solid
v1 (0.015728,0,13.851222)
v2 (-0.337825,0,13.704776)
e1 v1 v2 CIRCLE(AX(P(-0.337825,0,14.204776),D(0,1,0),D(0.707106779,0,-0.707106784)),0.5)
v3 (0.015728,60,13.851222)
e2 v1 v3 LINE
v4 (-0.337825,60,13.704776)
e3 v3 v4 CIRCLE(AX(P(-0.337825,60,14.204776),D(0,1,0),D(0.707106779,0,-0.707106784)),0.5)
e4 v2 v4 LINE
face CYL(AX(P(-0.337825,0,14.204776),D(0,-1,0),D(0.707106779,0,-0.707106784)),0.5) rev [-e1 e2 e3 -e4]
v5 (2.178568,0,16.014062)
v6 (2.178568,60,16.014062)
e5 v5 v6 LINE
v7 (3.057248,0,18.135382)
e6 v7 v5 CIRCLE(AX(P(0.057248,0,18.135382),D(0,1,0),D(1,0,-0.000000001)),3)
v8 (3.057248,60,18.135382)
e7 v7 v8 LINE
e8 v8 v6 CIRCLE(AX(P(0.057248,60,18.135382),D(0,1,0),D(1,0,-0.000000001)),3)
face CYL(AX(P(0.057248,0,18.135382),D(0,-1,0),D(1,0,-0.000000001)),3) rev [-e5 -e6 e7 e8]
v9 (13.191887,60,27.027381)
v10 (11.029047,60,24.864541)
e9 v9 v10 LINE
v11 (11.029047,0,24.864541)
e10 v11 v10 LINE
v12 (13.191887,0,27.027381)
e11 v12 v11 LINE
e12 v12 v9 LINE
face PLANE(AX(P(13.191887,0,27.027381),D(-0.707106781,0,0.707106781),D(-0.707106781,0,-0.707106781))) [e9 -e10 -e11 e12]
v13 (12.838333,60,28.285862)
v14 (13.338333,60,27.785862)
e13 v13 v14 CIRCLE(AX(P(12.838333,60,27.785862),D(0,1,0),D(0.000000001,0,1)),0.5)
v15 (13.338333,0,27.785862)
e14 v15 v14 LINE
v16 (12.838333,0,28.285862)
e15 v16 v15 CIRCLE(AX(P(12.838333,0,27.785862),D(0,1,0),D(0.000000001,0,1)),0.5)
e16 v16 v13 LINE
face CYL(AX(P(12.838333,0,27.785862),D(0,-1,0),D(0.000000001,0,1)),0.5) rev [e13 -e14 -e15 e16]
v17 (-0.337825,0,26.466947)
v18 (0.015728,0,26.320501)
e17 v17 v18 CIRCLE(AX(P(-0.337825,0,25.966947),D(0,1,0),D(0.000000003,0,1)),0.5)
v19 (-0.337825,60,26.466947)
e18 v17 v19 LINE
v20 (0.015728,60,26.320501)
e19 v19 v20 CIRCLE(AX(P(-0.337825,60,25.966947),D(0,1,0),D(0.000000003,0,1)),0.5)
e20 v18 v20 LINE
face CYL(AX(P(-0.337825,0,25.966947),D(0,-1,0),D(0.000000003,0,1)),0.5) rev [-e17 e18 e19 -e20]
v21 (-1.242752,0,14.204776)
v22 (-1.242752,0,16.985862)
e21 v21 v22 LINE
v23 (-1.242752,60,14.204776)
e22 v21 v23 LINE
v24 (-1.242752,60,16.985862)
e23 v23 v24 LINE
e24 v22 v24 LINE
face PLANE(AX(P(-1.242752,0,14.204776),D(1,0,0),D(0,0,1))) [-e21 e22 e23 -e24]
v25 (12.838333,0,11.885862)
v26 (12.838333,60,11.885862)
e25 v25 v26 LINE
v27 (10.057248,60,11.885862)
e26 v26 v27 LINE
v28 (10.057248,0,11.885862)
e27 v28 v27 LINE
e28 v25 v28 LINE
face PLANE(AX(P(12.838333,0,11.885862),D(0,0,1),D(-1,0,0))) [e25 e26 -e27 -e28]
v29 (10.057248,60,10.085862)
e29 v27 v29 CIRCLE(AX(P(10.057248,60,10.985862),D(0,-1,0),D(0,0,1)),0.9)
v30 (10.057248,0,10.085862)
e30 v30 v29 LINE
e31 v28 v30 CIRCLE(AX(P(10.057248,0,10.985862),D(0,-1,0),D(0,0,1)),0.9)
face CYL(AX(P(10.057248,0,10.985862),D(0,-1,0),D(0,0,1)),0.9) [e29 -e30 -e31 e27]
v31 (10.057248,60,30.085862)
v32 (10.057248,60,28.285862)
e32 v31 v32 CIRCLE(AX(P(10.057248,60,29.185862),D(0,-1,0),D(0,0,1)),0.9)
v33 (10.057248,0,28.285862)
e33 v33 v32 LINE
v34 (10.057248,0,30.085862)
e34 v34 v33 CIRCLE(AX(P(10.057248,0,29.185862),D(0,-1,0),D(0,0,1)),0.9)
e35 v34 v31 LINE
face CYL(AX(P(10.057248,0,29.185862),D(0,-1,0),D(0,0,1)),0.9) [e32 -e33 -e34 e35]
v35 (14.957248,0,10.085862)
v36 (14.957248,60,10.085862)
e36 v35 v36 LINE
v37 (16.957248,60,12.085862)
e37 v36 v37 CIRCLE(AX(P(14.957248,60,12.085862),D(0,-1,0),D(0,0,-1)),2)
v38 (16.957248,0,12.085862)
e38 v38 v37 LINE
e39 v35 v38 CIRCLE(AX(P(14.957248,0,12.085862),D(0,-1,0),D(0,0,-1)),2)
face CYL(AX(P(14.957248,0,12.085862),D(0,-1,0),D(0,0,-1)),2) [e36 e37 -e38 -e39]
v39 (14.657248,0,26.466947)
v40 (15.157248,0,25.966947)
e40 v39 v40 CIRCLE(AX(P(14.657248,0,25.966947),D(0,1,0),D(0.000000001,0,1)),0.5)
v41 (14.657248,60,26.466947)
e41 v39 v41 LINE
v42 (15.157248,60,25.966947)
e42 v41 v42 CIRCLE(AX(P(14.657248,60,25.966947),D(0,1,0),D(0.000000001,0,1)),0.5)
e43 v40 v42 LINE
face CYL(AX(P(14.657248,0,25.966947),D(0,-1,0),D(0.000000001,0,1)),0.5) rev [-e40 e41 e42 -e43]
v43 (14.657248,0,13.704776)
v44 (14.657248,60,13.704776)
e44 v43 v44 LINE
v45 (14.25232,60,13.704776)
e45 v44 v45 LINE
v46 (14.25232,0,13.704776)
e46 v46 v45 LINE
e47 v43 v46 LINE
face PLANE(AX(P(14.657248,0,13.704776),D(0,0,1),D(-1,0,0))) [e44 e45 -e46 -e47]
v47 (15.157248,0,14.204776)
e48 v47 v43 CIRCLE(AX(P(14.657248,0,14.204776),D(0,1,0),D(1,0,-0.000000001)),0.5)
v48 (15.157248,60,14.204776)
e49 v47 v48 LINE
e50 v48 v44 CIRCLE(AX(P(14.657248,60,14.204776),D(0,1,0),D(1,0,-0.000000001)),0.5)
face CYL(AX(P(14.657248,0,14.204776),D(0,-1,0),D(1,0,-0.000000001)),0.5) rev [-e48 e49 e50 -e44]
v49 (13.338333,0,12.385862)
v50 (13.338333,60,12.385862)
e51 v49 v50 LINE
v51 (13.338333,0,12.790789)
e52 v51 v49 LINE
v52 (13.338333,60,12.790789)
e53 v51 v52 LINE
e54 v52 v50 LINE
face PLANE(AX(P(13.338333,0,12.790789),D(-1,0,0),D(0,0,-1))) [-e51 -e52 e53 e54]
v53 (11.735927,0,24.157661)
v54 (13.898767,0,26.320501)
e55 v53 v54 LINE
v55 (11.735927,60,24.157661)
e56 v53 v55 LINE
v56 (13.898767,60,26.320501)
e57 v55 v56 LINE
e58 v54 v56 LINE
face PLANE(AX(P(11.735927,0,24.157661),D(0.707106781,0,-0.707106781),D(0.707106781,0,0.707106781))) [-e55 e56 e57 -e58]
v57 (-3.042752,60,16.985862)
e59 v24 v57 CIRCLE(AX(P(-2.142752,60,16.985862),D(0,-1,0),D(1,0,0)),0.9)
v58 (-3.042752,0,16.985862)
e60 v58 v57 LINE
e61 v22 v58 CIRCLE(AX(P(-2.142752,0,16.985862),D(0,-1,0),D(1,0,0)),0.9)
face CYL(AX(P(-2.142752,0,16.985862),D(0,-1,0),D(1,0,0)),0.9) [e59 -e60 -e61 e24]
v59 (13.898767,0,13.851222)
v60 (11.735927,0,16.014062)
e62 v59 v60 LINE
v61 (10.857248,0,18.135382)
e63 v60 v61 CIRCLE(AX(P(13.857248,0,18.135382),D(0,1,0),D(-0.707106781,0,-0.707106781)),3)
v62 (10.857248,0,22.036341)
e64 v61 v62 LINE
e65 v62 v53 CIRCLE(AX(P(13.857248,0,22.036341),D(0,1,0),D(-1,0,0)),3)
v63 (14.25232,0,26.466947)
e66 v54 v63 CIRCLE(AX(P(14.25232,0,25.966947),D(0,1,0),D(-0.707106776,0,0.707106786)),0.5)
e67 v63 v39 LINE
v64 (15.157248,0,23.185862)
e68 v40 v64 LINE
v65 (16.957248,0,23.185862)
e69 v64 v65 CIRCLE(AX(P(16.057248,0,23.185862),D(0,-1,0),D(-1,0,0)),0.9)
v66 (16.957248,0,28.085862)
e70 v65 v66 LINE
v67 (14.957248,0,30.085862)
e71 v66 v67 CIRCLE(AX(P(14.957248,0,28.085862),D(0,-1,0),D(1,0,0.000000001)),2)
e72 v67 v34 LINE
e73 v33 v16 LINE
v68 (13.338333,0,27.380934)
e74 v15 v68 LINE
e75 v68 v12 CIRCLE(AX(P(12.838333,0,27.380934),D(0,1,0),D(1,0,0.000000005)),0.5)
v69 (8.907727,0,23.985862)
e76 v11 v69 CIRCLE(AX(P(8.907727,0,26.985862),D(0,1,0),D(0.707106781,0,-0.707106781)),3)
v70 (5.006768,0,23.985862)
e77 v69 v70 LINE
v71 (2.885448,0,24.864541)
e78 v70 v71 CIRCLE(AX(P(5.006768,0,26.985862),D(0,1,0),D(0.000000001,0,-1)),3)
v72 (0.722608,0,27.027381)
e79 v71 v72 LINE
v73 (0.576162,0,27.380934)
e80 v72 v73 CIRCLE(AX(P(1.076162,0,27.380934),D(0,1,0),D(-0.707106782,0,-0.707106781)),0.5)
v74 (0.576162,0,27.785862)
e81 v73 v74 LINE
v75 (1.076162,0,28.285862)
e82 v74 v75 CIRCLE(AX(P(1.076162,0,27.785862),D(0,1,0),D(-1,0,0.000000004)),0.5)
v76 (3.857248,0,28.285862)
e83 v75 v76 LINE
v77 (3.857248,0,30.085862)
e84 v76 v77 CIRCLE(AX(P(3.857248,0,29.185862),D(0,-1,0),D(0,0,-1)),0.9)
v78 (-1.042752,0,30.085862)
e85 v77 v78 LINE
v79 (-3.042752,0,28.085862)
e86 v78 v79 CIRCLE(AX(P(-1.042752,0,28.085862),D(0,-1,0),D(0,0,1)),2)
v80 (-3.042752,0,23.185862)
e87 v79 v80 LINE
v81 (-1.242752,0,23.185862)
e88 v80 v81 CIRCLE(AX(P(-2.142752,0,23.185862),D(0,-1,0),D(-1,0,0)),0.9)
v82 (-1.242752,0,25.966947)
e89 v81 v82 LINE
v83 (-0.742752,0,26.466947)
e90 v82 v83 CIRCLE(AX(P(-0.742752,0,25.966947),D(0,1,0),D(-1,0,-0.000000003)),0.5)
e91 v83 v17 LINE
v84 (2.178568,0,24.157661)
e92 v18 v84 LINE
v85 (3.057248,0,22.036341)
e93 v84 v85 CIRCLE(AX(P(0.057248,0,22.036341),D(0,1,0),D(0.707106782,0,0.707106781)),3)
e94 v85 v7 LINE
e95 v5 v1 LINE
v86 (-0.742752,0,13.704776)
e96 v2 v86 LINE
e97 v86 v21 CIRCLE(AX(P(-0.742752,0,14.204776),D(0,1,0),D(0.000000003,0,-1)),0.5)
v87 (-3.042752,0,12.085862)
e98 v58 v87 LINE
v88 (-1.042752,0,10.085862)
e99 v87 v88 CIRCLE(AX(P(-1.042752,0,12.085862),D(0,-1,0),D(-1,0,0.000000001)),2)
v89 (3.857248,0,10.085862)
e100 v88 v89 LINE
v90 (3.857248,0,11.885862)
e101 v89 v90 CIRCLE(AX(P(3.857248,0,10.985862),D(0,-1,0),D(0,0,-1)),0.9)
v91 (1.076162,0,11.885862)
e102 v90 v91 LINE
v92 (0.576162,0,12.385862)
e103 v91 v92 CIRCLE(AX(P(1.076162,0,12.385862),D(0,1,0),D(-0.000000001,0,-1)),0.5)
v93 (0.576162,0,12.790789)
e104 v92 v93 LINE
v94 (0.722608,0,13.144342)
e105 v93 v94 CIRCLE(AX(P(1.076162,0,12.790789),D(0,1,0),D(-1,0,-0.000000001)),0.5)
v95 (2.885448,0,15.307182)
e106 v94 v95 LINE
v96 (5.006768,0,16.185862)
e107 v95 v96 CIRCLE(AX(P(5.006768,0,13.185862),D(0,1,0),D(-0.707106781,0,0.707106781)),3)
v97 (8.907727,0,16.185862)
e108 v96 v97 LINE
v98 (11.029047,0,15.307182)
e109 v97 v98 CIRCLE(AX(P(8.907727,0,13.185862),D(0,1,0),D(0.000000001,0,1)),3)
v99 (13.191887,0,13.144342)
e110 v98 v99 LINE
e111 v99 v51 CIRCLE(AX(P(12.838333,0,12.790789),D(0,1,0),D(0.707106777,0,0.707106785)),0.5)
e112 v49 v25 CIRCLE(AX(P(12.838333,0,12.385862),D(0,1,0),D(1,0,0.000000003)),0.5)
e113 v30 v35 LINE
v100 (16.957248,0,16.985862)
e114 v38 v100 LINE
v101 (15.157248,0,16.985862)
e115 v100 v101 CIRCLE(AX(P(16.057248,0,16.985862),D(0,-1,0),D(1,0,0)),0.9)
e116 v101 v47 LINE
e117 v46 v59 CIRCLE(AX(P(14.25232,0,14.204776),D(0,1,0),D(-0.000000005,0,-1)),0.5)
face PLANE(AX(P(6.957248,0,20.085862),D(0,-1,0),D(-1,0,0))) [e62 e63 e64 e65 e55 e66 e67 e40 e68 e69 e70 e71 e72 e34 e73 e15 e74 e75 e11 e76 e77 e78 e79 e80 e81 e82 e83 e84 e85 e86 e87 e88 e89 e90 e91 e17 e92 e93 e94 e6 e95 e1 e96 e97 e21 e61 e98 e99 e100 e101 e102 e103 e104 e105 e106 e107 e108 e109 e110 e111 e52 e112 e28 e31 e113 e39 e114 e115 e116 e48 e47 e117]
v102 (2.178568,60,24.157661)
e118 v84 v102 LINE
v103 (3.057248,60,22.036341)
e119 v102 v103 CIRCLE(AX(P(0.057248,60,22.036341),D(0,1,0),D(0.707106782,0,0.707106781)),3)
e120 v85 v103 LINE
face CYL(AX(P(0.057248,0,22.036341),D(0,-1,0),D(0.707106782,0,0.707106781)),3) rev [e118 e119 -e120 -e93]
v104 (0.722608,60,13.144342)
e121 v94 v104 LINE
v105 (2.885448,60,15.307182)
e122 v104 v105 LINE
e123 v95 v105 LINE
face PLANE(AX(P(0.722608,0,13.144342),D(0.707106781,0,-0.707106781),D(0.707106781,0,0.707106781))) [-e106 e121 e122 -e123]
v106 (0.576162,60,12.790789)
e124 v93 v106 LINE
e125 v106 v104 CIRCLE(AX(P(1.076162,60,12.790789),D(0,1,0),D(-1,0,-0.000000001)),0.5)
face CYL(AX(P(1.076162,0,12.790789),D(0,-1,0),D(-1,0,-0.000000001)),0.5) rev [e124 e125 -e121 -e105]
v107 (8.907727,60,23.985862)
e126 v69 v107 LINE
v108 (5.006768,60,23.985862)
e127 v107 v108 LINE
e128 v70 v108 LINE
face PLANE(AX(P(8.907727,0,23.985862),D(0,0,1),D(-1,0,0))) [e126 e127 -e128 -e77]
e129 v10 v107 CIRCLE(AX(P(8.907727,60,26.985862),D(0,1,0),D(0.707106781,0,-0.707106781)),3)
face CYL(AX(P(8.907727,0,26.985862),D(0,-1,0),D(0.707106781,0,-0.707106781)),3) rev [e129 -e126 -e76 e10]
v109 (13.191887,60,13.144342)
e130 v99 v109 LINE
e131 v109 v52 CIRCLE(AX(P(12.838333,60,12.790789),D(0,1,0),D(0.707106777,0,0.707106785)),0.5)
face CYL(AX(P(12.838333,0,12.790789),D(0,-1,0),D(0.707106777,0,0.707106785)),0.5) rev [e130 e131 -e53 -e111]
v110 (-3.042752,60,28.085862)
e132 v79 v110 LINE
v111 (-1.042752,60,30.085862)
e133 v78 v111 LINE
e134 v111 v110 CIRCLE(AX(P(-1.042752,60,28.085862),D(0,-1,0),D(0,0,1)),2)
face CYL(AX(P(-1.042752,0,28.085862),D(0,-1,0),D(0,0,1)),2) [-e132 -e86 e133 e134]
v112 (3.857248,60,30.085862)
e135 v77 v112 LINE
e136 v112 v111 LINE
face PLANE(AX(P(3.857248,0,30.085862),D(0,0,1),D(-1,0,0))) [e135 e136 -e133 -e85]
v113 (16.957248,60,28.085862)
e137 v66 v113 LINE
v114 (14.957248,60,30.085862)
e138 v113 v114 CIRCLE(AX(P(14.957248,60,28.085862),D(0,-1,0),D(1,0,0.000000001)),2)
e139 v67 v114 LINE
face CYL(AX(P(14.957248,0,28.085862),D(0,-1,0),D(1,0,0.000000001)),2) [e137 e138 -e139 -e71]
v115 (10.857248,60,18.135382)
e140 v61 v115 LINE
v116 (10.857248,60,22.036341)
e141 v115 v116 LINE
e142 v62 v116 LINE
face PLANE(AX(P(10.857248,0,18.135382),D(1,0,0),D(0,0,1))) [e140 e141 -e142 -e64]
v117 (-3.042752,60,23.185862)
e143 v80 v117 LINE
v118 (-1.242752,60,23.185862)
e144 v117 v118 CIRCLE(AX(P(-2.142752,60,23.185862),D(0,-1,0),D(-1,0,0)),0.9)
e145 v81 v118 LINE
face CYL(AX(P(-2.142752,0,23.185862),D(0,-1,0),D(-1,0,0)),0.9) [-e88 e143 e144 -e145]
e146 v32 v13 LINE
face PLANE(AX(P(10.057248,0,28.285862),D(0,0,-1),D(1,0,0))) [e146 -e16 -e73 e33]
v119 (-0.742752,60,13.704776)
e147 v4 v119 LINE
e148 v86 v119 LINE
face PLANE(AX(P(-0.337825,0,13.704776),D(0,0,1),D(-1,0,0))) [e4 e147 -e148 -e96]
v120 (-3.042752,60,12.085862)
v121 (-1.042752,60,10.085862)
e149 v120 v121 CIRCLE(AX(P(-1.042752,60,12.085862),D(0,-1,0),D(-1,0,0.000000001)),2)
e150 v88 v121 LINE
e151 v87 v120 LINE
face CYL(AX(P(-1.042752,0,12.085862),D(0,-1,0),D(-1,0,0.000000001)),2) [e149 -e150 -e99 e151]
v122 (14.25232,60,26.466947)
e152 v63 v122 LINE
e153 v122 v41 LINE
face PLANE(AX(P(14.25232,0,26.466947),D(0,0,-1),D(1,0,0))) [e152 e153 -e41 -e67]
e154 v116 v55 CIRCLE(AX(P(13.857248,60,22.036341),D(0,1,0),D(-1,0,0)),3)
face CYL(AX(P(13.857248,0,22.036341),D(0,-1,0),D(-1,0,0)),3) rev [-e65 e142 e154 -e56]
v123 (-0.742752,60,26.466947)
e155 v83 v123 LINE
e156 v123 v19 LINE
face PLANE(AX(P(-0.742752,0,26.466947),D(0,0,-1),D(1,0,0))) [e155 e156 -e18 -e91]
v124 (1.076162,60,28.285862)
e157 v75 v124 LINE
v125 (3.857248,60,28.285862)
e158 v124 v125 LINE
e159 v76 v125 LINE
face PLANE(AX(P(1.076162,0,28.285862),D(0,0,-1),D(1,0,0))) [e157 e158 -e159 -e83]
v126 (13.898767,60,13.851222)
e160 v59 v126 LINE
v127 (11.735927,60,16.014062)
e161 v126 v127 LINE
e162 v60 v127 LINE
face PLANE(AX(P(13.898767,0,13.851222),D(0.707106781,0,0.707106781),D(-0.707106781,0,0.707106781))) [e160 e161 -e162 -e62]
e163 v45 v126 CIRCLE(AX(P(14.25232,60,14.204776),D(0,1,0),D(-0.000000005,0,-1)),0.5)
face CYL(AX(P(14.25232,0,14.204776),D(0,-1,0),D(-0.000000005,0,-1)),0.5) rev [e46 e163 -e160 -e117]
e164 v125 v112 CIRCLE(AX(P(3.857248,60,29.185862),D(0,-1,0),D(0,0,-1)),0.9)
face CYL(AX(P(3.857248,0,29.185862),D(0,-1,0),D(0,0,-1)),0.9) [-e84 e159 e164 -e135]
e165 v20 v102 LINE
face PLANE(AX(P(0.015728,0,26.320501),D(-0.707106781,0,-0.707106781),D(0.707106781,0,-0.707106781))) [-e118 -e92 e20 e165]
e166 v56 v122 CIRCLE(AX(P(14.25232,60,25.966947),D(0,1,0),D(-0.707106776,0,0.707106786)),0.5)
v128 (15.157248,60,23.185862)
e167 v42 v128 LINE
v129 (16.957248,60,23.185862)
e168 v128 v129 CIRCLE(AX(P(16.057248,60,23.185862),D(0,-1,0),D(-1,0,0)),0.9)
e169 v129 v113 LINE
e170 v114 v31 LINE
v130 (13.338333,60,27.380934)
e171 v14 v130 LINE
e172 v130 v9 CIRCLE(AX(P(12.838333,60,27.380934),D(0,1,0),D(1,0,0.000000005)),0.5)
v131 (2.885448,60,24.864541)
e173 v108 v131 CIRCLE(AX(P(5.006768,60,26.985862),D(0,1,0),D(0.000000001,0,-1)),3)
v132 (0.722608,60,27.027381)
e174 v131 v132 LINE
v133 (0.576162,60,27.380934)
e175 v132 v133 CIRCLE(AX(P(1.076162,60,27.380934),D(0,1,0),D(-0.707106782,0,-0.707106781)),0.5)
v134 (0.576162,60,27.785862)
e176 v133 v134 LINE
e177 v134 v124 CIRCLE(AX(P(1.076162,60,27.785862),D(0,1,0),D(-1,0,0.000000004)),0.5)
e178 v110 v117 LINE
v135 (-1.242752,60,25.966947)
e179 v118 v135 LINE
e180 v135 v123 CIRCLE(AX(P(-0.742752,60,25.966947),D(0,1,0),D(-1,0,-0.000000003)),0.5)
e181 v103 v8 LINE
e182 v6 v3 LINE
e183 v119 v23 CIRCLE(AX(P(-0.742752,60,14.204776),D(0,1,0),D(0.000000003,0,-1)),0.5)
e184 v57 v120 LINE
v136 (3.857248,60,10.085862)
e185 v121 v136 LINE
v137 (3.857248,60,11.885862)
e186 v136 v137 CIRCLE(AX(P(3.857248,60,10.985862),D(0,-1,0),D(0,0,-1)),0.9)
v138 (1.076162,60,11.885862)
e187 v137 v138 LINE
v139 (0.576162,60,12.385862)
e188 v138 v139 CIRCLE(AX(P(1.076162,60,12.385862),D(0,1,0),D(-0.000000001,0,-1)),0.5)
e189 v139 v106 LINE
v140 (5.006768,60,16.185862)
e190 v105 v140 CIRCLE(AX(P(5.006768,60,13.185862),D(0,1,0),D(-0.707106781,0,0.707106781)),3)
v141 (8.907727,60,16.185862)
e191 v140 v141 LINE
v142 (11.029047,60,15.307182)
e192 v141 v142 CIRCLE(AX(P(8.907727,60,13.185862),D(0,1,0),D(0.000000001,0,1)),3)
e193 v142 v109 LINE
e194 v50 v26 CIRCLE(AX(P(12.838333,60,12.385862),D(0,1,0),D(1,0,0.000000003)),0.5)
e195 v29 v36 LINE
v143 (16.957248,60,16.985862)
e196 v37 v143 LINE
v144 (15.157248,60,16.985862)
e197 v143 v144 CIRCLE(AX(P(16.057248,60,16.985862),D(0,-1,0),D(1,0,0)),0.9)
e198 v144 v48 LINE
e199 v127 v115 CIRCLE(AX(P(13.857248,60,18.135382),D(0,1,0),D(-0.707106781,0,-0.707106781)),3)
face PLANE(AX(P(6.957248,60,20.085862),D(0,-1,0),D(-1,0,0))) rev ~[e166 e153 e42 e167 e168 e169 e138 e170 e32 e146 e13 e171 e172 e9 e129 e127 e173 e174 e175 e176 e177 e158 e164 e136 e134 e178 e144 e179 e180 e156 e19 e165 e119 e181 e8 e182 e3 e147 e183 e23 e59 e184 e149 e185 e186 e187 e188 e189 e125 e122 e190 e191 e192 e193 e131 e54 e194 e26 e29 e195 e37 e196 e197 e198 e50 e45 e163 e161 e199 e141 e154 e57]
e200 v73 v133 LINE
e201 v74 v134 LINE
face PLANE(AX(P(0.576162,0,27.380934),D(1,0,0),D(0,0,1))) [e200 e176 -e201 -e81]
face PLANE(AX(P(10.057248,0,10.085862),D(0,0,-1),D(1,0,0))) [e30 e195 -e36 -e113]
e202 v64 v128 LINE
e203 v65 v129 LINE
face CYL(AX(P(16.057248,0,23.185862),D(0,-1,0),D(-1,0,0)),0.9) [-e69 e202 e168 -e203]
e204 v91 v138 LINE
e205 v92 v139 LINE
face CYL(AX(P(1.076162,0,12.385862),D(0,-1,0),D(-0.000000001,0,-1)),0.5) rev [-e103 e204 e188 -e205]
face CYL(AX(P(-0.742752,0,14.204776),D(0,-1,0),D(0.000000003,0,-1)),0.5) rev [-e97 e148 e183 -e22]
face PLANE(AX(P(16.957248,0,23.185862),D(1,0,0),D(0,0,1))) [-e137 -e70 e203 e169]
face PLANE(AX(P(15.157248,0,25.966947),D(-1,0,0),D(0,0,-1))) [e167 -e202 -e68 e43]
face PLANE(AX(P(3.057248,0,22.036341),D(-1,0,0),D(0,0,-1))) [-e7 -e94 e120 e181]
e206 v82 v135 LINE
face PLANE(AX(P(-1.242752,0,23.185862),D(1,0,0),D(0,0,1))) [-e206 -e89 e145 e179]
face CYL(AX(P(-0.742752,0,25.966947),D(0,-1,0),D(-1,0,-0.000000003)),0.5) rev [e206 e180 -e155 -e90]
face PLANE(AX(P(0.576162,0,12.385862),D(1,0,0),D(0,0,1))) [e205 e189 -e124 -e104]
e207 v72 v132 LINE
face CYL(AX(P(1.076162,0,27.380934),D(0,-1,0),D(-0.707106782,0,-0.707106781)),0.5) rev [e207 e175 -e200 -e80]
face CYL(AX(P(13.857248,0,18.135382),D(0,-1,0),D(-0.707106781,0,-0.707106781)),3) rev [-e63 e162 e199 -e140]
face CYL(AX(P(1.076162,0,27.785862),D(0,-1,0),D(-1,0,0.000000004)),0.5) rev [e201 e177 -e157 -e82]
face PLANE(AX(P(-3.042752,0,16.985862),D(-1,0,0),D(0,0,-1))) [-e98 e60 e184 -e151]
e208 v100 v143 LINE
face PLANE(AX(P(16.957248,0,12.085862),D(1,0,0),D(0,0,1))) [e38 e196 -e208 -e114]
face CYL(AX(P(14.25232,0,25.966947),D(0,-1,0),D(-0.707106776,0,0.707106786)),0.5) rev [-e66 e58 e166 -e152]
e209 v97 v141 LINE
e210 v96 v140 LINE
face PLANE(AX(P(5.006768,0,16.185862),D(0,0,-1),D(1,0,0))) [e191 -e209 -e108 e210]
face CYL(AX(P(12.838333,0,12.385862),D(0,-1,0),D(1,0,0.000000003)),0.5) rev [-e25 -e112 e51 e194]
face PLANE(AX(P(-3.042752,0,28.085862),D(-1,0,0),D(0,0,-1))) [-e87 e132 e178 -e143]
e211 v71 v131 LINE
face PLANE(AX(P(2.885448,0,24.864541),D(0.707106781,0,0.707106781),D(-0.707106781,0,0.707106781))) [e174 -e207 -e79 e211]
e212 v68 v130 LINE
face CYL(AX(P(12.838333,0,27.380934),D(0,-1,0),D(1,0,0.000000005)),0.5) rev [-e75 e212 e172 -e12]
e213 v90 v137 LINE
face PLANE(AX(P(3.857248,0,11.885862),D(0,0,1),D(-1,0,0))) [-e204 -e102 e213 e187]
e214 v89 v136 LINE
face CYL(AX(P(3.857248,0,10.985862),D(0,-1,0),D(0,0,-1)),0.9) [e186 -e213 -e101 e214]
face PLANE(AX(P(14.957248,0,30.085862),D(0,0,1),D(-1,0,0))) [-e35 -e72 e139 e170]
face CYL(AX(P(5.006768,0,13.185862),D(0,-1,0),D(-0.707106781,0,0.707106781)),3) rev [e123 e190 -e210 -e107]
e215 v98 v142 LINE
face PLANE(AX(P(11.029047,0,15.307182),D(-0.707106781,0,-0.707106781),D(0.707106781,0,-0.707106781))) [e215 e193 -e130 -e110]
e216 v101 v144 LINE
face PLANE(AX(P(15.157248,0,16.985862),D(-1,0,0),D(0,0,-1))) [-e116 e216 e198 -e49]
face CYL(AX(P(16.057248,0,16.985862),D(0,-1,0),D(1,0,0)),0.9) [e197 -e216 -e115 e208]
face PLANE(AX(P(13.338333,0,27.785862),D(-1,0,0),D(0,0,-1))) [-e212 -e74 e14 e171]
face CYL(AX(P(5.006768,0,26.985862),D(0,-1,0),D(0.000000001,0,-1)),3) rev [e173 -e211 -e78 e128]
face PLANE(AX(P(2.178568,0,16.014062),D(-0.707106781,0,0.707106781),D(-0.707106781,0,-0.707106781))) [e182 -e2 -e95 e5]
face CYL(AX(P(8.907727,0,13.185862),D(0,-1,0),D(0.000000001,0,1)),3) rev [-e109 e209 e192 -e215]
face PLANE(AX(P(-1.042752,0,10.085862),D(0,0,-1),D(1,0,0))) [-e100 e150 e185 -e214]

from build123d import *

# Parameters (mm, degrees)
EXTRUDE_1_DEPTH = 60


with BuildPart() as part:
    # 草图1 → 凸台-拉伸1 (new body)
    with BuildSketch(Plane(origin=(0, 0, 0), x_dir=(1, 0, 0), z_dir=(0, 1, 0))):
        with BuildLine():
            Line((-1.042752475, -10.085861632), (3.857247525, -10.085861632))
            ThreePointArc((3.857247525, -10.085861632), (4.757247525, -10.985861632), (3.857247525, -11.885861632))
            Line((3.857247525, -11.885861632), (1.076161722, -11.885861632))
            ThreePointArc((1.076161722, -11.885861632), (0.722608332, -12.032308241), (0.576161722, -12.385861632))
            Line((0.576161722, -12.385861632), (0.576161722, -12.790788968))
            ThreePointArc((0.576161722, -12.790788968), (0.614221956, -12.982130685), (0.722608332, -13.144342359))
            Line((0.722608332, -13.144342359), (2.885447948, -15.307181975))
            ThreePointArc((2.885447948, -15.307181975), (3.858717994, -15.957500229), (5.006768291, -16.185861632))
            Line((5.006768291, -16.185861632), (8.907726758, -16.185861632))
            ThreePointArc((8.907726758, -16.185861632), (10.055777055, -15.957500229), (11.029047102, -15.307181975))
            Line((11.029047102, -15.307181975), (13.191886718, -13.144342359))
            ThreePointArc((13.191886718, -13.144342359), (13.300273094, -12.982130685), (13.338333327, -12.790788968))
            Line((13.338333327, -12.790788968), (13.338333327, -12.385861632))
            ThreePointArc((13.338333327, -12.385861632), (13.191886718, -12.032308241), (12.838333327, -11.885861632))
            Line((12.838333327, -11.885861632), (10.057247525, -11.885861632))
            ThreePointArc((10.057247525, -11.885861632), (9.157247525, -10.985861632), (10.057247525, -10.085861632))
            Line((10.057247525, -10.085861632), (14.957247525, -10.085861632))
            ThreePointArc((14.957247525, -10.085861632), (16.371461087, -10.671648069), (16.957247525, -12.085861632))
            Line((16.957247525, -12.085861632), (16.957247525, -16.985861632))
            ThreePointArc((16.957247525, -16.985861632), (16.057247525, -17.885861632), (15.157247525, -16.985861632))
            Line((15.157247525, -16.985861632), (15.157247525, -14.204775829))
            ThreePointArc((15.157247525, -14.204775829), (15.010800915, -13.851222438), (14.657247525, -13.704775829))
            Line((14.657247525, -13.704775829), (14.252320188, -13.704775829))
            ThreePointArc((14.252320188, -13.704775829), (14.060978472, -13.742836063), (13.898766797, -13.851222438))
            Line((13.898766797, -13.851222438), (11.735927181, -16.014062054))
            ThreePointArc((11.735927181, -16.014062054), (11.085608927, -16.987332101), (10.857247525, -18.135382398))
            Line((10.857247525, -18.135382398), (10.857247525, -22.036340865))
            ThreePointArc((10.857247525, -22.036340865), (11.085608927, -23.184391162), (11.735927181, -24.157661209))
            Line((11.735927181, -24.157661209), (13.898766797, -26.320500825))
            ThreePointArc((13.898766797, -26.320500825), (14.060978472, -26.4288872), (14.252320188, -26.466947434))
            Line((14.252320188, -26.466947434), (14.657247525, -26.466947434))
            ThreePointArc((14.657247525, -26.466947434), (15.010800915, -26.320500825), (15.157247525, -25.966947434))
            Line((15.157247525, -25.966947434), (15.157247525, -23.185861632))
            ThreePointArc((15.157247525, -23.185861632), (16.057247525, -22.285861632), (16.957247525, -23.185861632))
            Line((16.957247525, -23.185861632), (16.957247525, -28.085861632))
            ThreePointArc((16.957247525, -28.085861632), (16.371461087, -29.500075194), (14.957247525, -30.085861632))
            Line((14.957247525, -30.085861632), (10.057247525, -30.085861632))
            ThreePointArc((10.057247525, -30.085861632), (9.157247525, -29.185861632), (10.057247525, -28.285861632))
            Line((10.057247525, -28.285861632), (12.838333327, -28.285861632))
            ThreePointArc((12.838333327, -28.285861632), (13.191886718, -28.139415022), (13.338333327, -27.785861632))
            Line((13.338333327, -27.785861632), (13.338333327, -27.380934295))
            ThreePointArc((13.338333327, -27.380934295), (13.300273094, -27.189592579), (13.191886718, -27.027380904))
            Line((13.191886718, -27.027380904), (11.029047102, -24.864541288))
            ThreePointArc((11.029047102, -24.864541288), (10.055777055, -24.214223034), (8.907726758, -23.985861632))
            Line((8.907726758, -23.985861632), (5.006768291, -23.985861632))
            ThreePointArc((5.006768291, -23.985861632), (3.858717994, -24.214223034), (2.885447948, -24.864541288))
            Line((2.885447948, -24.864541288), (0.722608332, -27.027380904))
            ThreePointArc((0.722608332, -27.027380904), (0.614221956, -27.189592579), (0.576161722, -27.380934295))
            Line((0.576161722, -27.380934295), (0.576161722, -27.785861632))
            ThreePointArc((0.576161722, -27.785861632), (0.722608332, -28.139415022), (1.076161722, -28.285861632))
            Line((1.076161722, -28.285861632), (3.857247525, -28.285861632))
            ThreePointArc((3.857247525, -28.285861632), (4.757247525, -29.185861632), (3.857247525, -30.085861632))
            Line((3.857247525, -30.085861632), (-1.042752475, -30.085861632))
            ThreePointArc((-1.042752475, -30.085861632), (-2.456966038, -29.500075194), (-3.042752475, -28.085861632))
            Line((-3.042752475, -28.085861632), (-3.042752475, -23.185861632))
            ThreePointArc((-3.042752475, -23.185861632), (-2.142752475, -22.285861632), (-1.242752475, -23.185861632))
            Line((-1.242752475, -23.185861632), (-1.242752475, -25.966947434))
            ThreePointArc((-1.242752475, -25.966947434), (-1.096305866, -26.320500825), (-0.742752475, -26.466947434))
            Line((-0.742752475, -26.466947434), (-0.337825138, -26.466947434))
            ThreePointArc((-0.337825138, -26.466947434), (-0.146483422, -26.4288872), (0.015728252, -26.320500825))
            Line((0.015728252, -26.320500825), (2.178567868, -24.157661209))
            ThreePointArc((2.178567868, -24.157661209), (2.828886122, -23.184391162), (3.057247525, -22.036340865))
            Line((3.057247525, -22.036340865), (3.057247525, -18.135382398))
            ThreePointArc((3.057247525, -18.135382398), (2.828886122, -16.987332101), (2.178567868, -16.014062054))
            Line((2.178567868, -16.014062054), (0.015728252, -13.851222438))
            ThreePointArc((0.015728252, -13.851222438), (-0.146483422, -13.742836063), (-0.337825138, -13.704775829))
            Line((-0.337825138, -13.704775829), (-0.742752475, -13.704775829))
            ThreePointArc((-0.742752475, -13.704775829), (-1.096305866, -13.851222438), (-1.242752475, -14.204775829))
            Line((-1.242752475, -14.204775829), (-1.242752475, -16.985861632))
            ThreePointArc((-1.242752475, -16.985861632), (-2.142752475, -17.885861632), (-3.042752475, -16.985861632))
            Line((-3.042752475, -16.985861632), (-3.042752475, -12.085861632))
            ThreePointArc((-3.042752475, -12.085861632), (-2.456966038, -10.671648069), (-1.042752475, -10.085861632))
        make_face()
    extrude(amount=EXTRUDE_1_DEPTH)


solid = part.part
